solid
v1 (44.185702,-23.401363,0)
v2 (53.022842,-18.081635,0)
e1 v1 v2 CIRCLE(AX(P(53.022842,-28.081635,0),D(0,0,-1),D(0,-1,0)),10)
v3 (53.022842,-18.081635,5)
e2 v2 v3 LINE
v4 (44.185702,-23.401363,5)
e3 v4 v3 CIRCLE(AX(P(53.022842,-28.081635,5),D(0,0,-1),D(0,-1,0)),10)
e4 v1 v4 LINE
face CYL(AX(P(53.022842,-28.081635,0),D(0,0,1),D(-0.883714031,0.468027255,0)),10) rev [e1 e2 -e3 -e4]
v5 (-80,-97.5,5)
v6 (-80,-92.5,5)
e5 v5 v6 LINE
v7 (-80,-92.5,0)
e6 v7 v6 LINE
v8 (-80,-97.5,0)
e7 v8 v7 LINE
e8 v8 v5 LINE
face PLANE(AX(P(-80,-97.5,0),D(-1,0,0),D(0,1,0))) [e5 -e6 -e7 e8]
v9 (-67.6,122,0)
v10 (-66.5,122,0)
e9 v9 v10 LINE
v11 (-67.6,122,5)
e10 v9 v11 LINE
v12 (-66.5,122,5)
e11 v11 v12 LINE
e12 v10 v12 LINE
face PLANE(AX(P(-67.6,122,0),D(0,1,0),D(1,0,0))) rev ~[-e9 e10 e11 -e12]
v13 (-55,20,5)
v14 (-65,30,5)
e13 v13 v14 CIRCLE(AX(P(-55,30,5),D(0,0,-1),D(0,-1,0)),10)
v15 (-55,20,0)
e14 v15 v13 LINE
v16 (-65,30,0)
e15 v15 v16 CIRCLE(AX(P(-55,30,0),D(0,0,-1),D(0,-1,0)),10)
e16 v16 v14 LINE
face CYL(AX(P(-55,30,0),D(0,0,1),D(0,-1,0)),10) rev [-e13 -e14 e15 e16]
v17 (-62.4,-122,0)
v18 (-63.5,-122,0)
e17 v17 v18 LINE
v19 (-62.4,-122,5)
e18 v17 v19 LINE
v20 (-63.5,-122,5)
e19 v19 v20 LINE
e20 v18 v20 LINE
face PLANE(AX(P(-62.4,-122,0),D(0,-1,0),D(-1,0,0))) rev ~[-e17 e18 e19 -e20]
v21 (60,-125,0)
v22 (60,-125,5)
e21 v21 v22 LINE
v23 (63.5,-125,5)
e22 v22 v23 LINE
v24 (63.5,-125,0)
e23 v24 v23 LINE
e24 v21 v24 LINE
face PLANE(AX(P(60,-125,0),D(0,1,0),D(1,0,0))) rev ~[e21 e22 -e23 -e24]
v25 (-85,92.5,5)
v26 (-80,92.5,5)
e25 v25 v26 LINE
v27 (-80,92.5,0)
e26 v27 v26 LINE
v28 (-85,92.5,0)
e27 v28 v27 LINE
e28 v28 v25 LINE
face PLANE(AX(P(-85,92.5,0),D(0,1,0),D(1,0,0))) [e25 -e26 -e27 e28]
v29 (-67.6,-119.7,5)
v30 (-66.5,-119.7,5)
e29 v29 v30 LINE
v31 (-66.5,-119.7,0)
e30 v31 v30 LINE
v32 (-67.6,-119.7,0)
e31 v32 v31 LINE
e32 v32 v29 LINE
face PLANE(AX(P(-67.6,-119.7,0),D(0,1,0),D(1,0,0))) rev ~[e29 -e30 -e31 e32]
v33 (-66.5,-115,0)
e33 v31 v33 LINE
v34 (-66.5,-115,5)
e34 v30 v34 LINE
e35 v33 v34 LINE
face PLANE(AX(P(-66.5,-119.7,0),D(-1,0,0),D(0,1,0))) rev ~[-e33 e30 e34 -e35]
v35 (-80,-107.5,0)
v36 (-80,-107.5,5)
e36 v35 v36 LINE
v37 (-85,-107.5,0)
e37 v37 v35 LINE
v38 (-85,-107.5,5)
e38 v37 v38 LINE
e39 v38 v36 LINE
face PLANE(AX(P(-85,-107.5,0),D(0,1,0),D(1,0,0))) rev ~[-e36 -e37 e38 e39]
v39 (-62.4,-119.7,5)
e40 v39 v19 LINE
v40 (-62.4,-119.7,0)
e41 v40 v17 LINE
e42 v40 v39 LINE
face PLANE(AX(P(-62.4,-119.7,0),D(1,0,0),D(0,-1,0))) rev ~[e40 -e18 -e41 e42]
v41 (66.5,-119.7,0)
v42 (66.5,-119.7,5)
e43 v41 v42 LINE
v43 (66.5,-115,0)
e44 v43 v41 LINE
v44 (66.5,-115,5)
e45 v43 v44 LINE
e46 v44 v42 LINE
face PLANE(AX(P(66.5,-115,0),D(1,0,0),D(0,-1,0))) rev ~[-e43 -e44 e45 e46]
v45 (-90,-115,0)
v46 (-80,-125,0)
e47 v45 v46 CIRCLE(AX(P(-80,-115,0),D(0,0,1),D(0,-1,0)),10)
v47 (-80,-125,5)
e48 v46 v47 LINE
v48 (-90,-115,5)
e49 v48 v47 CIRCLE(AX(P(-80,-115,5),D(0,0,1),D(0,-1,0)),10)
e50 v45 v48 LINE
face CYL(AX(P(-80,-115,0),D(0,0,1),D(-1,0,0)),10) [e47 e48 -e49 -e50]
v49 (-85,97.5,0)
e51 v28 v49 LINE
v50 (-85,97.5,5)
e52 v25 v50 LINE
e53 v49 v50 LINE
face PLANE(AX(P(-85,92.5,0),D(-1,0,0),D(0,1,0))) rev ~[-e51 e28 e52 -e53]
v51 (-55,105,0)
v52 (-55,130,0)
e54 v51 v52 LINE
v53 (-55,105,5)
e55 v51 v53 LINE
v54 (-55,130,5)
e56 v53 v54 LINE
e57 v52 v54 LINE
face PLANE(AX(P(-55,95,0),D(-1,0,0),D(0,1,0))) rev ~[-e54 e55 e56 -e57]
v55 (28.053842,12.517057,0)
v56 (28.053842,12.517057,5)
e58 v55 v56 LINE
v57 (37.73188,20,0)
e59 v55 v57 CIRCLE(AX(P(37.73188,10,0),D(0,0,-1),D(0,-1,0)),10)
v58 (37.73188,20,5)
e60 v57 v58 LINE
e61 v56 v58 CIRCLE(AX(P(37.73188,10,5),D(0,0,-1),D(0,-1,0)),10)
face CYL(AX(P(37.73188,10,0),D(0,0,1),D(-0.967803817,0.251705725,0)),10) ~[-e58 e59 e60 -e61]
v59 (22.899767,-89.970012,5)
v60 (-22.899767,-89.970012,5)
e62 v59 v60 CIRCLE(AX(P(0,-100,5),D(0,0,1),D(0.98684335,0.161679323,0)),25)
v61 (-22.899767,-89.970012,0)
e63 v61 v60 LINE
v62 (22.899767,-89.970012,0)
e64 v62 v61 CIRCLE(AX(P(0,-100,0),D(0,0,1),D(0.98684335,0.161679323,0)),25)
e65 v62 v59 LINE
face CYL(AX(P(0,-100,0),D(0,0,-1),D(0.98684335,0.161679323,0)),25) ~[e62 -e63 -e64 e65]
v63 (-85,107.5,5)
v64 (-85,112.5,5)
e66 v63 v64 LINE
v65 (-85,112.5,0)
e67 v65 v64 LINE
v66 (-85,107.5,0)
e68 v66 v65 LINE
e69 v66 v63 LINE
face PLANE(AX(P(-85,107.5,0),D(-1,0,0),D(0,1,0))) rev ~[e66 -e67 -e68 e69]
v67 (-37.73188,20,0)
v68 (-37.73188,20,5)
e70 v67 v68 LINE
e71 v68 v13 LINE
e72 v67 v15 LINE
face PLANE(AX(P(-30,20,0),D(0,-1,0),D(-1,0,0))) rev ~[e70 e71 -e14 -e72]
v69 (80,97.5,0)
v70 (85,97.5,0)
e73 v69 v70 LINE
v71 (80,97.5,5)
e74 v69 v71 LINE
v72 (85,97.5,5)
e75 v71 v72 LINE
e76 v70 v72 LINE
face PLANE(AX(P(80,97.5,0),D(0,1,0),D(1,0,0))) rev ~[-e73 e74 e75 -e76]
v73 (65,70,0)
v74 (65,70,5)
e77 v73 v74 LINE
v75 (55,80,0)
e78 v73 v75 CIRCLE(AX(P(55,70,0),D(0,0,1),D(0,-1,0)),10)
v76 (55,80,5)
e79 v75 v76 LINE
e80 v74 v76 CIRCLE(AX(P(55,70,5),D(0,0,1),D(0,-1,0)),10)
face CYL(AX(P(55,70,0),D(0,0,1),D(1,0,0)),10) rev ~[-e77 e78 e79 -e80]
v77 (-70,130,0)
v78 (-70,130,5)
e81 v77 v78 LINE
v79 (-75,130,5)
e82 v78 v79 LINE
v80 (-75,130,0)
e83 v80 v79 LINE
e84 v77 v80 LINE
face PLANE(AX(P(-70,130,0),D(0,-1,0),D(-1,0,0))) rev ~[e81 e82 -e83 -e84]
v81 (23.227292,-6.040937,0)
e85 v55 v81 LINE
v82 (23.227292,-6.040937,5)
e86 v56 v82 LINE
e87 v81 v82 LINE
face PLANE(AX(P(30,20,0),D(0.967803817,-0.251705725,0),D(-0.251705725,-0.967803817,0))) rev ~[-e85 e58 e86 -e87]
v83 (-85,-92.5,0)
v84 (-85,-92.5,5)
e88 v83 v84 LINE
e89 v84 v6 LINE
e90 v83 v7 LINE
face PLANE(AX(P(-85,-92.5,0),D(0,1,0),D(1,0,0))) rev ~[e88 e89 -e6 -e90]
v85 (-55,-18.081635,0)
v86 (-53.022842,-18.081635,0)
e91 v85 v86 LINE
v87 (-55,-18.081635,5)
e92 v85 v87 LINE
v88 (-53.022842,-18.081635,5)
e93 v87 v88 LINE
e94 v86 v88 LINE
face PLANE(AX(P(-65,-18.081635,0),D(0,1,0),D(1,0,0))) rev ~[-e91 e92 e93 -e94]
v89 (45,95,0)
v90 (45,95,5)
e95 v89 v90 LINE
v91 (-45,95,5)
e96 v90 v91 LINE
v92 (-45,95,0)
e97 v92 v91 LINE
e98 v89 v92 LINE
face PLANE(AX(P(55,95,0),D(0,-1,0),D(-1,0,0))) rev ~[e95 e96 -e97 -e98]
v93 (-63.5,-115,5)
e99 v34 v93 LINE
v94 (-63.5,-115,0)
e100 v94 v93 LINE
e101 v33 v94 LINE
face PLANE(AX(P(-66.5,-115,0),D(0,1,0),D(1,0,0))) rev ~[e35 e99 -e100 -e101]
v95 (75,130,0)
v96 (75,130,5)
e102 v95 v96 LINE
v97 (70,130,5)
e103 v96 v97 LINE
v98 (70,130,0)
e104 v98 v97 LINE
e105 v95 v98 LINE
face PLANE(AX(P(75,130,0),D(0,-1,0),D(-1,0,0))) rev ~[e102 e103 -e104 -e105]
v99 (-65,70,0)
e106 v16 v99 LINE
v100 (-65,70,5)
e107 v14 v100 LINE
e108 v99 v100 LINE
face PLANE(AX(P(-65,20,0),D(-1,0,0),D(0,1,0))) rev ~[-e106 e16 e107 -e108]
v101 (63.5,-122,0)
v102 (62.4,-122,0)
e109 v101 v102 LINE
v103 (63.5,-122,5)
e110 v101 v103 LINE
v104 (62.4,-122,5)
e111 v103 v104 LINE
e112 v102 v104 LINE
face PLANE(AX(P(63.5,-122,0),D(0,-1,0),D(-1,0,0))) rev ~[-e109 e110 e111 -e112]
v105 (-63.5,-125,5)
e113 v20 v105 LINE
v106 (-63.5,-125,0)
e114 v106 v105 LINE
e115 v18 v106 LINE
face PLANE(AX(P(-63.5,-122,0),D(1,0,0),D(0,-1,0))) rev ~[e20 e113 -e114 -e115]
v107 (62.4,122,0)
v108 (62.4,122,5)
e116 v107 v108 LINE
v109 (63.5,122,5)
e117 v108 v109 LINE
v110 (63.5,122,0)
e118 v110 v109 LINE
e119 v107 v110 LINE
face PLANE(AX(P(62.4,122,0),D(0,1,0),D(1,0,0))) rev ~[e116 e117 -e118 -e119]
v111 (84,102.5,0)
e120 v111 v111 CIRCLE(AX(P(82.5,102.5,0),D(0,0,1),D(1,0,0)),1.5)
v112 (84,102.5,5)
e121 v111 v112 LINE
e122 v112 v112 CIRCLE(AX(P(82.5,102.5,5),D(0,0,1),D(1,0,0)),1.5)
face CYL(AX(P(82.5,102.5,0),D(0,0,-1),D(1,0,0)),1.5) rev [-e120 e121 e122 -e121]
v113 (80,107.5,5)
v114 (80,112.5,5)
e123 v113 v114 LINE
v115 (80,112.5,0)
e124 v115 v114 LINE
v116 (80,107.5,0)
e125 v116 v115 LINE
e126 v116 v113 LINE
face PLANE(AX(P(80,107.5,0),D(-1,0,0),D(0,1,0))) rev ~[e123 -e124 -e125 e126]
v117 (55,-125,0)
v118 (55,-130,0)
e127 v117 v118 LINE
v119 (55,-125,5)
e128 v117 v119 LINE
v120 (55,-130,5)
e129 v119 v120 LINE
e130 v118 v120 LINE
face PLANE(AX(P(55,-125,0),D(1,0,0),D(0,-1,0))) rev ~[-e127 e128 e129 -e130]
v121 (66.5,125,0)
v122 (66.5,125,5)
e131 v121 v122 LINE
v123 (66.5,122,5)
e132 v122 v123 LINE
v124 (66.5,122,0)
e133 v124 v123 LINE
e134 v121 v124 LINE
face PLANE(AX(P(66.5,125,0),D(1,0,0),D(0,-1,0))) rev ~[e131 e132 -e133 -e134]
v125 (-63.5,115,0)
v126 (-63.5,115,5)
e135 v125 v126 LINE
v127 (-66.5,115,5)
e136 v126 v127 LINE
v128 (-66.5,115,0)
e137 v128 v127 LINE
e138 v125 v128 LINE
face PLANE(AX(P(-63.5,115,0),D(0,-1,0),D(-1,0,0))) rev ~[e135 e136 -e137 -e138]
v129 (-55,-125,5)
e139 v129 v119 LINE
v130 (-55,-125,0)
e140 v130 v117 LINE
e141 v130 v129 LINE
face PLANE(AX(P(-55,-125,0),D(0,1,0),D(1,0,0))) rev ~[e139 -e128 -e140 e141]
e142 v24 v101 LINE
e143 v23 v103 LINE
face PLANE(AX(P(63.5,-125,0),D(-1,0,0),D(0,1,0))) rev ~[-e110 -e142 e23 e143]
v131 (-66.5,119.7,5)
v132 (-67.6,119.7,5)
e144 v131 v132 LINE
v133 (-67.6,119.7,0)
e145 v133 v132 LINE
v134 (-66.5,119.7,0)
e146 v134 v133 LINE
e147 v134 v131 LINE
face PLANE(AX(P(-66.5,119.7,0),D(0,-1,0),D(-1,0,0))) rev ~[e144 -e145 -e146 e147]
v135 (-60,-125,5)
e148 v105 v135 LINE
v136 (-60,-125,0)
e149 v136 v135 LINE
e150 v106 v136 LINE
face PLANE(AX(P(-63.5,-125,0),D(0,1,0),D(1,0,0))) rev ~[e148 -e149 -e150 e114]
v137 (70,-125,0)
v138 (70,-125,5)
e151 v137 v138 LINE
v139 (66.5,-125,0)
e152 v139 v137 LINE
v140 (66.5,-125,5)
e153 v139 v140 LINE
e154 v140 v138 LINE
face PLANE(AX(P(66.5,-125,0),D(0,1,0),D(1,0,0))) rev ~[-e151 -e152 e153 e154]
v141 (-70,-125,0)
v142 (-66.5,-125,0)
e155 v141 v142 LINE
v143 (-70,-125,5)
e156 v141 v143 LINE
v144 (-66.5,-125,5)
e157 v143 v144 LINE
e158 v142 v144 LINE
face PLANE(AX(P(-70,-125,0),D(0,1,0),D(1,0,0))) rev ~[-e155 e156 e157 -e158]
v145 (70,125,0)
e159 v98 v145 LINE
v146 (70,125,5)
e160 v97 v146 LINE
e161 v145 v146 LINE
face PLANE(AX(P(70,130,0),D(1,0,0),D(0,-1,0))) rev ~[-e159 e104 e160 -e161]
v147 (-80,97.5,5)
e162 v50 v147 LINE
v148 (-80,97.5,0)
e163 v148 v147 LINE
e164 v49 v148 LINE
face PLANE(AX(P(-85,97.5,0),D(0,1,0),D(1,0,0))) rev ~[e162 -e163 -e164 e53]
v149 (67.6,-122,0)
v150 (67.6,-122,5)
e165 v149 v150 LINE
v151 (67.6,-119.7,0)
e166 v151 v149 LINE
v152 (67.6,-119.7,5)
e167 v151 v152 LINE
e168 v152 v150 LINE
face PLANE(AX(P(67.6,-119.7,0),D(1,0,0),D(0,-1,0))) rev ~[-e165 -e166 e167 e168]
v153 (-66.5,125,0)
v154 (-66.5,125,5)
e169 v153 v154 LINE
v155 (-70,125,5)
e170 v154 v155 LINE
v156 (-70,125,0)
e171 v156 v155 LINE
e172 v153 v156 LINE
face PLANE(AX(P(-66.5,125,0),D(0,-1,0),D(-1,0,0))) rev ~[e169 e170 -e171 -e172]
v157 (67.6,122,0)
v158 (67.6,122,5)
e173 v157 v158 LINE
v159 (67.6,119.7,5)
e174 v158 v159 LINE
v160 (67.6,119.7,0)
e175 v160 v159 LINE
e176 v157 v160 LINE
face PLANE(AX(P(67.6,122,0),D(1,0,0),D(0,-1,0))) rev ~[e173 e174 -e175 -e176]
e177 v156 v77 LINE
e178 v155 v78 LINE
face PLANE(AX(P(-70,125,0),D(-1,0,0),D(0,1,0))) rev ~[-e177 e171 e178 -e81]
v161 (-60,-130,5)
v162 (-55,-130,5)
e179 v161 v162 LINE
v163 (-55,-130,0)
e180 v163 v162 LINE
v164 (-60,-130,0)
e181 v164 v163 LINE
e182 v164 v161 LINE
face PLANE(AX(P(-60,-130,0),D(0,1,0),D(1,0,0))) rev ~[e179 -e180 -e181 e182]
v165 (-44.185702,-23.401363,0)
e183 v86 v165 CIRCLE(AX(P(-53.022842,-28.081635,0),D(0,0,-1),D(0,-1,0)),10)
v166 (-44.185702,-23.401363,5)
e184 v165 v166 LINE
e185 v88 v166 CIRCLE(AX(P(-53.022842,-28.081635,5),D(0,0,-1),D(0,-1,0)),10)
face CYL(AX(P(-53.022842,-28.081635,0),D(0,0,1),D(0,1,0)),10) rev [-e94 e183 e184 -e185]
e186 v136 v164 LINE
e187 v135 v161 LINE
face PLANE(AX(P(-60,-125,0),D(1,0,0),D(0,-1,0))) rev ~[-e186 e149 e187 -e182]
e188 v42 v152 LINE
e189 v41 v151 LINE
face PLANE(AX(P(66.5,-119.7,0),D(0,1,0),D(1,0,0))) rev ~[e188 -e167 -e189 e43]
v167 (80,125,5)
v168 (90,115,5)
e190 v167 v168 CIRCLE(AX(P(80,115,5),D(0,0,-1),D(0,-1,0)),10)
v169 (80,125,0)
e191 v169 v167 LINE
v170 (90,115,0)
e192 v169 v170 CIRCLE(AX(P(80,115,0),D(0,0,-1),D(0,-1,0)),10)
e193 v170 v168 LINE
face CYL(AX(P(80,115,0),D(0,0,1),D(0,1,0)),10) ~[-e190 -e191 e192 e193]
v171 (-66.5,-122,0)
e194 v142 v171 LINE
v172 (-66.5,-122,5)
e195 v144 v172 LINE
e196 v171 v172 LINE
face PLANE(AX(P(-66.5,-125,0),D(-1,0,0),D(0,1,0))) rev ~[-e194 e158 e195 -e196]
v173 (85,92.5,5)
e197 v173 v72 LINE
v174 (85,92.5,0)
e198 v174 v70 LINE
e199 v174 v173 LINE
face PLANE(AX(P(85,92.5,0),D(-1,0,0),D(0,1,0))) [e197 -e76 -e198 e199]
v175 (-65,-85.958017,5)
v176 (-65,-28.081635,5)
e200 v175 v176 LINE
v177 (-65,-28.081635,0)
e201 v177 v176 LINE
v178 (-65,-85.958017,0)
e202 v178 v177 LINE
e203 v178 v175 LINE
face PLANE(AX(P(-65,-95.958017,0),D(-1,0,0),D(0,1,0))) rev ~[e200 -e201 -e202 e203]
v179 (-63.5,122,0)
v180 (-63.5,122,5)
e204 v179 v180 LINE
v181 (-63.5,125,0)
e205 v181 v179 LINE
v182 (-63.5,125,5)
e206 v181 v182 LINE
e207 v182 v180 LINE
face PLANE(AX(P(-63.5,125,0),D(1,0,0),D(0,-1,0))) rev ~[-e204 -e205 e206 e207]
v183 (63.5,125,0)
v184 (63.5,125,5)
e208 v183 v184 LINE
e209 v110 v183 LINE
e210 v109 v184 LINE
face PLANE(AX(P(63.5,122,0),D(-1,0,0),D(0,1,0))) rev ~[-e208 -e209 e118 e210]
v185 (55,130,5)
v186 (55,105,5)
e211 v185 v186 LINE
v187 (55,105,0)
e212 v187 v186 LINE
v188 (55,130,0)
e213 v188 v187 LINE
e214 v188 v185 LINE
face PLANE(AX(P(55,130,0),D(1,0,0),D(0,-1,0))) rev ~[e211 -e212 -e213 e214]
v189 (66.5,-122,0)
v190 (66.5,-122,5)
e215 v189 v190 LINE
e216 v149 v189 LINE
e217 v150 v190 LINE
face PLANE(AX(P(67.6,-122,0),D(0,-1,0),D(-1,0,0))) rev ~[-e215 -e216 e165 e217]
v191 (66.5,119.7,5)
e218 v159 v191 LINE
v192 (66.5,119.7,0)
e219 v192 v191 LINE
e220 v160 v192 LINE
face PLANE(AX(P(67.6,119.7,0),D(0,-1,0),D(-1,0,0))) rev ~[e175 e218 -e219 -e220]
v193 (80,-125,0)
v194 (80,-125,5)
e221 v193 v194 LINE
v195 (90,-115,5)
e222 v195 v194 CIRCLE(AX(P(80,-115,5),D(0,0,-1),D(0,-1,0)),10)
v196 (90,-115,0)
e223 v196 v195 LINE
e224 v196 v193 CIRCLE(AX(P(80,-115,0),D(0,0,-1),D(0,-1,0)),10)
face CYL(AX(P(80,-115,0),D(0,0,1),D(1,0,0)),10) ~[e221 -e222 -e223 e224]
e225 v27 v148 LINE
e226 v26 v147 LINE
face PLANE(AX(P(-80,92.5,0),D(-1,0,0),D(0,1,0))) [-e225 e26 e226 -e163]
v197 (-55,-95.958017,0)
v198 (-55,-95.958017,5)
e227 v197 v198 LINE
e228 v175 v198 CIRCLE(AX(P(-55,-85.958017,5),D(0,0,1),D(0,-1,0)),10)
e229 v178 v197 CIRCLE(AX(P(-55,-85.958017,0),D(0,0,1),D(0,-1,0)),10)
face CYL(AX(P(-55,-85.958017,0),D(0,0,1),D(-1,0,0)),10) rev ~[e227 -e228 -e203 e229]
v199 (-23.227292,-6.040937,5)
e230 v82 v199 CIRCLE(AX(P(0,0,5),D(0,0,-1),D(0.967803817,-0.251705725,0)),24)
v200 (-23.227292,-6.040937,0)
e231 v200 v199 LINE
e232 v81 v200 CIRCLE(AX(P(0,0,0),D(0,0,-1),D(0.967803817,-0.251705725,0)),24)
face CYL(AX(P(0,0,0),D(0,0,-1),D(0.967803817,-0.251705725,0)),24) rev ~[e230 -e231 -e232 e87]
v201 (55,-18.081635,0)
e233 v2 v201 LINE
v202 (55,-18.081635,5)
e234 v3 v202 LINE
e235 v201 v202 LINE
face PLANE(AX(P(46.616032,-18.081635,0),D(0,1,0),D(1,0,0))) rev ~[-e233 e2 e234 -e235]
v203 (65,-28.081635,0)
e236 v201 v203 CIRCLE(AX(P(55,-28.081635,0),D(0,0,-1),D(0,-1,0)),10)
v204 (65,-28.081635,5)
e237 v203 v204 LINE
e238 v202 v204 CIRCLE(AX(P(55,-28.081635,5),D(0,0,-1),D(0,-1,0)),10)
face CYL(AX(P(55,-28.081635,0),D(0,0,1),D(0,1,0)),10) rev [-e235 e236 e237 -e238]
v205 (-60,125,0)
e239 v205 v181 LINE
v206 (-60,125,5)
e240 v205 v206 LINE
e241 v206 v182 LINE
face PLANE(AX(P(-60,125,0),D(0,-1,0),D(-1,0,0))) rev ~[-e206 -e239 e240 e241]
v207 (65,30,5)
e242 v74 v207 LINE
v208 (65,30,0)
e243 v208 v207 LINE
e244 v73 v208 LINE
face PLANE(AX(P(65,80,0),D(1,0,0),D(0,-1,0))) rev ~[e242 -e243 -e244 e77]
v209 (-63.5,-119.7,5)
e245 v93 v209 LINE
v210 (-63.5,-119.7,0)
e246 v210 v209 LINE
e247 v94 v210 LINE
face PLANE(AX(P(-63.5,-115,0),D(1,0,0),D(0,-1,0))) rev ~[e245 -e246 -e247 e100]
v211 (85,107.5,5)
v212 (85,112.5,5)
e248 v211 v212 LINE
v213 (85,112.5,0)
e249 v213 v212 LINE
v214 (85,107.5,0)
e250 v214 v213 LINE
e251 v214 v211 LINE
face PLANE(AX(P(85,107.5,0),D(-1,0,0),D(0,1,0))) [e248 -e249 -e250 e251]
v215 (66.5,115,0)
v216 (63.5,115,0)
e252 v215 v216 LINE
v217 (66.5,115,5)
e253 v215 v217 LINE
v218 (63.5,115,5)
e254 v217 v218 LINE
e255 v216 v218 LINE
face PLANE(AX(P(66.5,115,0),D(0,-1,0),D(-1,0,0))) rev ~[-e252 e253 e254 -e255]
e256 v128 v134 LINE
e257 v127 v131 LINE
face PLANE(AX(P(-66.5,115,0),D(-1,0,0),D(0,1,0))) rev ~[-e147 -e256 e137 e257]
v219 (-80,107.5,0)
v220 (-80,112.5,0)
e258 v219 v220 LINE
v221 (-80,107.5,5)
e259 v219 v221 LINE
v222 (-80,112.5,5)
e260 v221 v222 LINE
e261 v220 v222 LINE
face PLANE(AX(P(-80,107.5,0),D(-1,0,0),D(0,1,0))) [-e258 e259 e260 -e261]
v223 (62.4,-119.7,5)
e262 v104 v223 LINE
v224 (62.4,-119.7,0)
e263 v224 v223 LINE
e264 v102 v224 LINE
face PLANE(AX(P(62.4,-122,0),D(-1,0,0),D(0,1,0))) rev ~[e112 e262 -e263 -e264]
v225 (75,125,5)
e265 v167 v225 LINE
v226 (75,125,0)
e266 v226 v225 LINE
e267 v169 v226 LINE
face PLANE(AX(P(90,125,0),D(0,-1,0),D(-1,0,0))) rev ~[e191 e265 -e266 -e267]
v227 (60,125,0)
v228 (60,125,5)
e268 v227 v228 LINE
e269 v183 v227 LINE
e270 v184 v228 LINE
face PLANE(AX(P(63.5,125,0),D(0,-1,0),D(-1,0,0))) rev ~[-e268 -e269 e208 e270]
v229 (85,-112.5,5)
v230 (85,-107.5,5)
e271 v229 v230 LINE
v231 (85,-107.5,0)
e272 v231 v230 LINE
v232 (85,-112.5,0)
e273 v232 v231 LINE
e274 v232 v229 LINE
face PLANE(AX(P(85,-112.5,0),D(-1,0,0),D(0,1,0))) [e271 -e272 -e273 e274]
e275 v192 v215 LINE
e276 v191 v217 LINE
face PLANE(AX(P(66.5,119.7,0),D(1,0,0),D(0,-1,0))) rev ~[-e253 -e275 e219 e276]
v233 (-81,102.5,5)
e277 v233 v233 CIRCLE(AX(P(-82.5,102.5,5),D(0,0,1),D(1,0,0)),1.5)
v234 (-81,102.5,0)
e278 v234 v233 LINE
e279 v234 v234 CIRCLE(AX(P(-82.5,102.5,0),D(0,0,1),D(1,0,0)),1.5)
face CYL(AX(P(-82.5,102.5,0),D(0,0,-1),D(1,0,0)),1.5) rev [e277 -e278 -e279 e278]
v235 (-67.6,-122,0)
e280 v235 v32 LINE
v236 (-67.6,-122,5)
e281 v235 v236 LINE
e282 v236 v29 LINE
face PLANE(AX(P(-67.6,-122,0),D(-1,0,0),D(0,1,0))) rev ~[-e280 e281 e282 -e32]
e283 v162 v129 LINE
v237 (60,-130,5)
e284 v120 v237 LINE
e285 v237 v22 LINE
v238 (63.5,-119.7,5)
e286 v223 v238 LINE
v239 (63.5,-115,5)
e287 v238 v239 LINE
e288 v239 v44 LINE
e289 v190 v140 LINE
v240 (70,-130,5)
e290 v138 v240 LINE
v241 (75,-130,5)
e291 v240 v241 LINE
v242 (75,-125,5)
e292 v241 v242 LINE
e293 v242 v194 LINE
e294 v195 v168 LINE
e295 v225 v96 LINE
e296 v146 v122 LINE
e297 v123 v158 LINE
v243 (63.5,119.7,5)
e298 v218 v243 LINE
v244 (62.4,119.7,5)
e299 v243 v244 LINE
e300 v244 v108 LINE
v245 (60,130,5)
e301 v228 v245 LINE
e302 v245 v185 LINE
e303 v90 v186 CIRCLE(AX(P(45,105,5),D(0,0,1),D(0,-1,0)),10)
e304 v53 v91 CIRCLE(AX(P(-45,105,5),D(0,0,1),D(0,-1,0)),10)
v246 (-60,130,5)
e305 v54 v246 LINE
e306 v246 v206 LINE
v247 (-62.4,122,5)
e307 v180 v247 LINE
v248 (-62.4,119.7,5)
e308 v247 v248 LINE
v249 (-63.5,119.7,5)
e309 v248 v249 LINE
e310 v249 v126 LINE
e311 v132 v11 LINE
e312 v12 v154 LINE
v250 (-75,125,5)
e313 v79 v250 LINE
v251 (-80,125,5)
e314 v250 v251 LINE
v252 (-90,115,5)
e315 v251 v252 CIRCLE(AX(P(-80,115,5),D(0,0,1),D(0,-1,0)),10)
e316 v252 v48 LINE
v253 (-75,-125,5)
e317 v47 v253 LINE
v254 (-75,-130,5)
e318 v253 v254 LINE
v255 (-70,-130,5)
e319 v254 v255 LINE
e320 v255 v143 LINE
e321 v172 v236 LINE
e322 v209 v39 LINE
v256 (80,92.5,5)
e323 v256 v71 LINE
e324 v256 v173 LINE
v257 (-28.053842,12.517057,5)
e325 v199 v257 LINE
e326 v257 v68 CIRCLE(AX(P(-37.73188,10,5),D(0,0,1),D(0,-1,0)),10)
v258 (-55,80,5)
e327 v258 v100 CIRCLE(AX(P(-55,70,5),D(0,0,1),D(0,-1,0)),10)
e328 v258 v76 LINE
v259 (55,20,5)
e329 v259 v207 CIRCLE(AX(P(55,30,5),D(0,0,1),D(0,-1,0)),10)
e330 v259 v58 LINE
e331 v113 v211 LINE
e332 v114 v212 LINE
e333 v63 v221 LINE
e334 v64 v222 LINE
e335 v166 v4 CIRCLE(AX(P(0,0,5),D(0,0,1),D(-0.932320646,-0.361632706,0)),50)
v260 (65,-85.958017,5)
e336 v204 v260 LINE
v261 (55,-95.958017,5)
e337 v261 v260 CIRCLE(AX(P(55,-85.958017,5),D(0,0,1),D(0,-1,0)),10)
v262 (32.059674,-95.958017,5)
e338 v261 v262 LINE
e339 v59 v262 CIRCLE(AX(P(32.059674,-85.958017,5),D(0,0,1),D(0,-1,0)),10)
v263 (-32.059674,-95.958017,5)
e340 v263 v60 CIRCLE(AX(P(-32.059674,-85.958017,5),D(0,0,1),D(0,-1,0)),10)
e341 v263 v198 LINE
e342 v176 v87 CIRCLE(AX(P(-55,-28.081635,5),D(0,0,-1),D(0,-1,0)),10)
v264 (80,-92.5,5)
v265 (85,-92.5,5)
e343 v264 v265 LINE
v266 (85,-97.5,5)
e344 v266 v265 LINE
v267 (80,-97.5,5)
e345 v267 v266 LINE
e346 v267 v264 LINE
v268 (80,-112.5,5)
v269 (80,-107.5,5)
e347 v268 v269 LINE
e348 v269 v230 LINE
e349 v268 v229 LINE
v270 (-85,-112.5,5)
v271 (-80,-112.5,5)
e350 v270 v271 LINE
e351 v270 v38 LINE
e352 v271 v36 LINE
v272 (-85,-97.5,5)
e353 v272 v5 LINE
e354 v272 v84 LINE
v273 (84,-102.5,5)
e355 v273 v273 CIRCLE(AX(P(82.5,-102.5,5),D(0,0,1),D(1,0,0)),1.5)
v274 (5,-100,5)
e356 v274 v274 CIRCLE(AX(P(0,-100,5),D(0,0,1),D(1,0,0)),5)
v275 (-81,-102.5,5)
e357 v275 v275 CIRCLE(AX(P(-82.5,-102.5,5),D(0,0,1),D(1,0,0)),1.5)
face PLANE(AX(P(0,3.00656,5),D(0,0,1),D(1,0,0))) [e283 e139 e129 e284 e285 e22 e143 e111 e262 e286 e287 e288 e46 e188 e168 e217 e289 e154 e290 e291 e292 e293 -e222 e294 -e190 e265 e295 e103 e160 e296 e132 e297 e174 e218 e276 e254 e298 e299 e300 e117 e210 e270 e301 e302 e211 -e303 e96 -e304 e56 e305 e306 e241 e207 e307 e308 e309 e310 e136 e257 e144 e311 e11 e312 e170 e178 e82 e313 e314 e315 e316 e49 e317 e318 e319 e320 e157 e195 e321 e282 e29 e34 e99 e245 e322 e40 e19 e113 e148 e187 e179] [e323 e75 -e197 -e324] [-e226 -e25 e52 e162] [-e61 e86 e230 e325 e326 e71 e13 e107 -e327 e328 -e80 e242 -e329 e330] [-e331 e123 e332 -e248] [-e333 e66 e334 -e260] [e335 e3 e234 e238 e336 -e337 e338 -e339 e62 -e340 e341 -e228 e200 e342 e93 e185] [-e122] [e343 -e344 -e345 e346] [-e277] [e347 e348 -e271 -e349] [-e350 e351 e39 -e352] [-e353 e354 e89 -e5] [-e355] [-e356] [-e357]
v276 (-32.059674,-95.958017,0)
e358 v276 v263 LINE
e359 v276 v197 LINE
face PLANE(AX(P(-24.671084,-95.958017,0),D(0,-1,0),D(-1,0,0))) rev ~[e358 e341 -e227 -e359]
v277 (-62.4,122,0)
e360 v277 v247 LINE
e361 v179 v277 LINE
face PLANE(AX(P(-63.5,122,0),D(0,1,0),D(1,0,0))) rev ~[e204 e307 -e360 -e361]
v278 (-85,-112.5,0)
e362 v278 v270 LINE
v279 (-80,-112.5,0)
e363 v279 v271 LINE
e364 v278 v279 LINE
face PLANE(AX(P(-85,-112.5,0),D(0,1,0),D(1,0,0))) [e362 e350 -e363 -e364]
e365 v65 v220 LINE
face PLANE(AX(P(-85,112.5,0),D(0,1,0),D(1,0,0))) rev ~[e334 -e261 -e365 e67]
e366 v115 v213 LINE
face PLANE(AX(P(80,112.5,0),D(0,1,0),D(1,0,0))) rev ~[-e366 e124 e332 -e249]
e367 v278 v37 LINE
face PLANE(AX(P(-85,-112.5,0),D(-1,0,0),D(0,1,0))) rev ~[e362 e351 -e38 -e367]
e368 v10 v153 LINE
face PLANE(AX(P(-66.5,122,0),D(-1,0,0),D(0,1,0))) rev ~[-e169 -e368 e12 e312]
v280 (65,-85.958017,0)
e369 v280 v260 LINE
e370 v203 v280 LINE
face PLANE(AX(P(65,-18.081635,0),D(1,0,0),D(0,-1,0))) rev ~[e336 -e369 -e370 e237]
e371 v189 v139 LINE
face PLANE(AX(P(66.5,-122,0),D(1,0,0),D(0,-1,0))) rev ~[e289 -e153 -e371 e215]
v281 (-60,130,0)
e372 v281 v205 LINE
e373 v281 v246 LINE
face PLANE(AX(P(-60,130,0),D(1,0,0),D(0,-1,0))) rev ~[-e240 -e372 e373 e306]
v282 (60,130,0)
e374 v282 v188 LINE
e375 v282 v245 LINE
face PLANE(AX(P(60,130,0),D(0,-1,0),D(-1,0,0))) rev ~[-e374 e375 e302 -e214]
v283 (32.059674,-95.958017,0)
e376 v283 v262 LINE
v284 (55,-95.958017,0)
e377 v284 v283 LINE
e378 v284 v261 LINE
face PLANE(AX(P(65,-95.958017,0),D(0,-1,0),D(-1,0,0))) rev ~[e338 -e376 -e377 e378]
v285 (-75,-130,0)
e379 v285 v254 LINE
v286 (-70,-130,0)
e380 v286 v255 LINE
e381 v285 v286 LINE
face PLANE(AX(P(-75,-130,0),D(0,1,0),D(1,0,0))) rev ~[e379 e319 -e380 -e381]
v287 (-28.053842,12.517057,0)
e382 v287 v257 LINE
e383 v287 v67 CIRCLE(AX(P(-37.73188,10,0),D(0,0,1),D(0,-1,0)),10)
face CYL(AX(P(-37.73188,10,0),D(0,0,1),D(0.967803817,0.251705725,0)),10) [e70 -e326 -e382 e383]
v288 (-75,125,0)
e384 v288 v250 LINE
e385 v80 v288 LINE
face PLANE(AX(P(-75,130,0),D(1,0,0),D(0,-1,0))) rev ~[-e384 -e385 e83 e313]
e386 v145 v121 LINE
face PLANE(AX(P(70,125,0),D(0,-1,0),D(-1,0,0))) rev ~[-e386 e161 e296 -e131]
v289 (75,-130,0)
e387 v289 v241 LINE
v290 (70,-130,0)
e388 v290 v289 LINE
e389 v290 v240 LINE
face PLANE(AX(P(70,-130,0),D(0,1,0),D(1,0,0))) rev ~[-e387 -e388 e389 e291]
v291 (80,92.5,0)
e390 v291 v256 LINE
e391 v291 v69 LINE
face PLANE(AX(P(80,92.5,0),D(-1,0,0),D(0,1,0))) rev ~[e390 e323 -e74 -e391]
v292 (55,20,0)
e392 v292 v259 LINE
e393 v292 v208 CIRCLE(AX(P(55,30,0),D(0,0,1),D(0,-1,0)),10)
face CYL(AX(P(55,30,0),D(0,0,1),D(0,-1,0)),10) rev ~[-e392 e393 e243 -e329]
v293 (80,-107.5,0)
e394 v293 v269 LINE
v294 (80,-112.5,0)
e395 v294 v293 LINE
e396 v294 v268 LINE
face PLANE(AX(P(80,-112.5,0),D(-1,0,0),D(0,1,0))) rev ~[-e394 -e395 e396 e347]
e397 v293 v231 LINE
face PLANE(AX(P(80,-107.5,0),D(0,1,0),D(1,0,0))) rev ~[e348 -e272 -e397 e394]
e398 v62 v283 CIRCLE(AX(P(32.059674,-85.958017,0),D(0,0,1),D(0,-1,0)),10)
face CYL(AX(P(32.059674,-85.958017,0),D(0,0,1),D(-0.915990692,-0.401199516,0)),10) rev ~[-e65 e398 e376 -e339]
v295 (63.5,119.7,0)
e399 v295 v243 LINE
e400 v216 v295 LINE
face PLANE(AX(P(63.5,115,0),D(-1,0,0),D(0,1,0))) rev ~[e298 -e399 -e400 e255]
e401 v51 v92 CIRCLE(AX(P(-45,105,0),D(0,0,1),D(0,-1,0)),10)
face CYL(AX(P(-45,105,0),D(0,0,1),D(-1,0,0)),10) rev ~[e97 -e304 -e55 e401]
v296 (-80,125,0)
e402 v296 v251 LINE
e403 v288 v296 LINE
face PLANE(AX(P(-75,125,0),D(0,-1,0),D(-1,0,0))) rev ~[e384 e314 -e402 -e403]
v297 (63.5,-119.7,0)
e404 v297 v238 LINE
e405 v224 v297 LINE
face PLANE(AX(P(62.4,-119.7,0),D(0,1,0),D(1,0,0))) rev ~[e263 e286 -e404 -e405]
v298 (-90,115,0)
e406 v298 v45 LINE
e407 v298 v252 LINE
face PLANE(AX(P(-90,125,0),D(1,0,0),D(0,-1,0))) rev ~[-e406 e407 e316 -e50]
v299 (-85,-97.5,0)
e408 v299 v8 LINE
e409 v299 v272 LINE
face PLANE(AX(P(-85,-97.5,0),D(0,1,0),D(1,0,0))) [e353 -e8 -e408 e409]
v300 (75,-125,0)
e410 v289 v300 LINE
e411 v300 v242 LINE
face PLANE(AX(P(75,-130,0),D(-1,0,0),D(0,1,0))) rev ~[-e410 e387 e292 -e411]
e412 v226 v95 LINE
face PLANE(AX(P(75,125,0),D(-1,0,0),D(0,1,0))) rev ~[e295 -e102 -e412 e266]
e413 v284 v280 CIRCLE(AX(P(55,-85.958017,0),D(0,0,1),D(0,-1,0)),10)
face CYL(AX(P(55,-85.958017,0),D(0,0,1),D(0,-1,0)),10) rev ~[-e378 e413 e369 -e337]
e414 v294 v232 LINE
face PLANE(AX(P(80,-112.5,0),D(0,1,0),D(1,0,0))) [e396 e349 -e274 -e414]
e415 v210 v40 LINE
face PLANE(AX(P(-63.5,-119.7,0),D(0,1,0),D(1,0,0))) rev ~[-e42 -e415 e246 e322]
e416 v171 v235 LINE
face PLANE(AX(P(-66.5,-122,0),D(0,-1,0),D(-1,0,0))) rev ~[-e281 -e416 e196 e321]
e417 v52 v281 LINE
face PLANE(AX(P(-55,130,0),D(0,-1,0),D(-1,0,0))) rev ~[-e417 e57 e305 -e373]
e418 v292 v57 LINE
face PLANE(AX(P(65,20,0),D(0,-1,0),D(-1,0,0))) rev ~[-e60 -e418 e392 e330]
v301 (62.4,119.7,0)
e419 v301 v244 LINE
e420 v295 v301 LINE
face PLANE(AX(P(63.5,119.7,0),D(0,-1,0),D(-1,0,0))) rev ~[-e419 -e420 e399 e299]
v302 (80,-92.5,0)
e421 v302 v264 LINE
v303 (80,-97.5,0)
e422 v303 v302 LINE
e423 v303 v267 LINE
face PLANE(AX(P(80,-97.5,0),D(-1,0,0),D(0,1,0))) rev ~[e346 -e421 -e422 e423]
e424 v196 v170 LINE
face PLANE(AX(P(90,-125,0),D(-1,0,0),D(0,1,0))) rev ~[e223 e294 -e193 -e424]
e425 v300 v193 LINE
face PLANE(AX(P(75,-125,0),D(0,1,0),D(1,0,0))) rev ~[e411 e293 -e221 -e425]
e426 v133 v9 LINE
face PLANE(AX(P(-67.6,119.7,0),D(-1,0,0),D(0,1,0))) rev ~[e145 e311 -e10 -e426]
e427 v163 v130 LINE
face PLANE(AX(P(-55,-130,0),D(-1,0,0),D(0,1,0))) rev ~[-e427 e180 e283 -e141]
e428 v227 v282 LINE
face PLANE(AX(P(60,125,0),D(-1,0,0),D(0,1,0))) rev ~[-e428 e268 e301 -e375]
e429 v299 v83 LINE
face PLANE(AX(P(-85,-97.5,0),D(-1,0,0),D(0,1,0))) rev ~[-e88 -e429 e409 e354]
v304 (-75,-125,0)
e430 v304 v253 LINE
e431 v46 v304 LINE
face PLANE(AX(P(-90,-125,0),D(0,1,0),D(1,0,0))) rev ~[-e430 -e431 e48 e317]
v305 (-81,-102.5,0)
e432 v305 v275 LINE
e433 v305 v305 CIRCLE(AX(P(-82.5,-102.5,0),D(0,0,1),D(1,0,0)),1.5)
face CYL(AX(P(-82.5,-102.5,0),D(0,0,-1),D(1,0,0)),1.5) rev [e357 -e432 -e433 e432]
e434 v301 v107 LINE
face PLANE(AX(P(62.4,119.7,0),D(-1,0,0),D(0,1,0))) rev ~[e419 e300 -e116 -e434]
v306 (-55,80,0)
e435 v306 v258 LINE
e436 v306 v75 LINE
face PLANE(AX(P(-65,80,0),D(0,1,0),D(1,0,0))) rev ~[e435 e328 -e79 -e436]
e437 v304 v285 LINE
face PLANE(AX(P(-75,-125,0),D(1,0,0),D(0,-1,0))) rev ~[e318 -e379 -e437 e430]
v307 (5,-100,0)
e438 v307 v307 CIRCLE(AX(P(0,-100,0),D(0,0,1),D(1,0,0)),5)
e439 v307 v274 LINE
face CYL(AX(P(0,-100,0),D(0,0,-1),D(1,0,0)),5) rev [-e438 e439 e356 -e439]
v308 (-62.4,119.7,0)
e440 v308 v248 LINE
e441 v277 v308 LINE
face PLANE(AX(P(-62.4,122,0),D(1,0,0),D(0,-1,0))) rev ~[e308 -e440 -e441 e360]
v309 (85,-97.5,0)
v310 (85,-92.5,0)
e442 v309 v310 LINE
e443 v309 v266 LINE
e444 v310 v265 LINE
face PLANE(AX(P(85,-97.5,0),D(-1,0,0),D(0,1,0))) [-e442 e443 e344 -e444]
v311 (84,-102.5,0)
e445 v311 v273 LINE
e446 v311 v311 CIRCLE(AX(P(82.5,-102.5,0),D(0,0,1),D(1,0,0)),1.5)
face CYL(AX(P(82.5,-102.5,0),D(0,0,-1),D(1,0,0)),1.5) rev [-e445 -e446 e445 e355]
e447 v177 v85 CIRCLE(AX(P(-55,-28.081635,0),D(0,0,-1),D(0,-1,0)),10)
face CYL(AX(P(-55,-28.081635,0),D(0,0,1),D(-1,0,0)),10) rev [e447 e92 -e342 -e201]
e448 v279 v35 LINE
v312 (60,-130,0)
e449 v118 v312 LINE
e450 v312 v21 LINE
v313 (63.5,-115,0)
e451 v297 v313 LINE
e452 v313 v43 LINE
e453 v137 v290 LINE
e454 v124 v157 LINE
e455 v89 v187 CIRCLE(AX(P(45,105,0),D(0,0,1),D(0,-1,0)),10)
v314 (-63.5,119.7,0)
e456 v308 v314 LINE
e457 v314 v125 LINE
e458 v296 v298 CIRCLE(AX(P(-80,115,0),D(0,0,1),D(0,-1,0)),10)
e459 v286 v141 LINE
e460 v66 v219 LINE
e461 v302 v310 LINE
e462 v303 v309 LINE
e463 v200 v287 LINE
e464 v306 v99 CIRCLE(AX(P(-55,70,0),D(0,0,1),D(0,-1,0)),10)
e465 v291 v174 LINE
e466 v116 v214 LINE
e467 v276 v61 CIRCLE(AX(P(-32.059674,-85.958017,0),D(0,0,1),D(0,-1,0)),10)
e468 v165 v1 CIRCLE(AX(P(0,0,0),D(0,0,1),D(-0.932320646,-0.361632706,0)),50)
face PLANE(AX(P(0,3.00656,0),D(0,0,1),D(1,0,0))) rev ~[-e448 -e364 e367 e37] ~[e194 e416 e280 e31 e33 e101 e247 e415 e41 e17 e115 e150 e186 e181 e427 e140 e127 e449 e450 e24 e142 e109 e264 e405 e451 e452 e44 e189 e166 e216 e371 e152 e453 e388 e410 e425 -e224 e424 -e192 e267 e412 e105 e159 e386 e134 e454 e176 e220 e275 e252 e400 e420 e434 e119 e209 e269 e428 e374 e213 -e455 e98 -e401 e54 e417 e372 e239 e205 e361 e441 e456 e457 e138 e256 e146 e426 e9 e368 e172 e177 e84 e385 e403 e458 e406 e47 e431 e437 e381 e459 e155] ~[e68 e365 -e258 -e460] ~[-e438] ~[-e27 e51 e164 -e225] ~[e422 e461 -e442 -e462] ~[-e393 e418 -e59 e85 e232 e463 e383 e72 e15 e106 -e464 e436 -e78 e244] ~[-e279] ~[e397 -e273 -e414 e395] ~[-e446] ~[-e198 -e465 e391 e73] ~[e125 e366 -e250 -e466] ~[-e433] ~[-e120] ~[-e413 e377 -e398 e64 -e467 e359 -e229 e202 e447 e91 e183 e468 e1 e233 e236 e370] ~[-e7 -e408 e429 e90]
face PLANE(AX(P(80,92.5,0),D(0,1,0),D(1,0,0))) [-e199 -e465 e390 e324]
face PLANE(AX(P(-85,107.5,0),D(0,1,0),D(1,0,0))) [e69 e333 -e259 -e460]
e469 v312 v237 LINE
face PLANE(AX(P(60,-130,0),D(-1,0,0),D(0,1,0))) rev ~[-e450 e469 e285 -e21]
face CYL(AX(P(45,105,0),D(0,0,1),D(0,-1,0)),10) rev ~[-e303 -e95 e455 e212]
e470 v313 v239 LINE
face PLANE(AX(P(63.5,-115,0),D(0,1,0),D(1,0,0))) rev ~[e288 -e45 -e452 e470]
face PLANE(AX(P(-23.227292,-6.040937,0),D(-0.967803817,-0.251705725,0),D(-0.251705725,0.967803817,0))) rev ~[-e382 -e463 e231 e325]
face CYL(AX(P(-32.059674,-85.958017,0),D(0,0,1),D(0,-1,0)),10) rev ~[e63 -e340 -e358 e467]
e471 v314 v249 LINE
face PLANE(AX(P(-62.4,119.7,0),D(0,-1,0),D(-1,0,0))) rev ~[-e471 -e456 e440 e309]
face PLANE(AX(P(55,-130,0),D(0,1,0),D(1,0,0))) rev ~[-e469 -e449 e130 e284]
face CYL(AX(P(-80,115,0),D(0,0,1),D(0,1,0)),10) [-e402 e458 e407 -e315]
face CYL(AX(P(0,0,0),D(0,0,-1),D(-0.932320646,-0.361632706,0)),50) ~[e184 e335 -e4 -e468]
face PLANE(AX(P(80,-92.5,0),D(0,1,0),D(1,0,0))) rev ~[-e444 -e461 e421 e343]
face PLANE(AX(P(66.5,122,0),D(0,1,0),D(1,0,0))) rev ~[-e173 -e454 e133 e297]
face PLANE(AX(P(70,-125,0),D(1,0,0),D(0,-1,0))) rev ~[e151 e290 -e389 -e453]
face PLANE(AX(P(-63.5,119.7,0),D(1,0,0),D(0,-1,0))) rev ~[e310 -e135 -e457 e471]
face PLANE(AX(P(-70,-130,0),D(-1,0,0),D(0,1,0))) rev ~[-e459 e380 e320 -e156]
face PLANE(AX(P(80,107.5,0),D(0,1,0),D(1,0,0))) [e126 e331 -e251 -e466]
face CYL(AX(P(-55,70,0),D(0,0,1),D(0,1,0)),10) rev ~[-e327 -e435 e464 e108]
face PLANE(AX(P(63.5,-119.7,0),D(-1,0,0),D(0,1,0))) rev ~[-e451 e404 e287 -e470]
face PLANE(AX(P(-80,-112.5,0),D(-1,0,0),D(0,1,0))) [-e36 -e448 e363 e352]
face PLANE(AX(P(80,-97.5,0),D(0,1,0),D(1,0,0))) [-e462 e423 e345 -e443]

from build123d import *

# Parameters (mm, degrees)
SKETCH1_W           = 5
SKETCH1_H           = 5
SKETCH1_R           = 1.5
SKETCH1_R_2         = 5
BOSS_EXTRUDE1_DEPTH = 5
FILLET1_R           = 10


with BuildPart() as part:
    # Sketch1 → Boss-Extrude1 (new body)
    with BuildSketch(Plane.XY):
        Polygon((-75, 125), (-90, 125), (-90, -125), (-75, -125), (-75, -130), (-70, -130), (-70, -125), (-66.5, -125), (-66.5, -122), (-67.6, -122), (-67.6, -119.7), (-66.5, -119.7), (-66.5, -115), (-63.5, -115), (-63.5, -119.7), (-62.4, -119.7), (-62.4, -122), (-63.5, -122), (-63.5, -125), (-60, -125), (-60, -130), (-55, -130), (-55, -125), (55, -125), (55, -130), (60, -130), (60, -125), (63.5, -125), (63.5, -122), (62.4, -122), (62.4, -119.7), (63.5, -119.7), (63.5, -115), (66.5, -115), (66.5, -119.7), (67.6, -119.7), (67.6, -122), (66.5, -122), (66.5, -125), (70, -125), (70, -130), (75, -130), (75, -125), (90, -125), (90, 125), (75, 125), (75, 130), (70, 130), (70, 125), (66.5, 125), (66.5, 122), (67.6, 122), (67.6, 119.7), (66.5, 119.7), (66.5, 115), (63.5, 115), (63.5, 119.7), (62.4, 119.7), (62.4, 122), (63.5, 122), (63.5, 125), (60, 125), (60, 130), (55, 130), (55, 95), (-55, 95), (-55, 130), (-60, 130), (-60, 125), (-63.5, 125), (-63.5, 122), (-62.4, 122), (-62.4, 119.7), (-63.5, 119.7), (-63.5, 115), (-66.5, 115), (-66.5, 119.7), (-67.6, 119.7), (-67.6, 122), (-66.5, 122), (-66.5, 125), (-70, 125), (-70, 130), (-75, 130), align=None)
        with Locations((-82.5, -110)):
            Rectangle(SKETCH1_W, SKETCH1_H, mode=Mode.SUBTRACT)
        with Locations((-82.5, -102.5)):
            Circle(SKETCH1_R, mode=Mode.SUBTRACT)
        with Locations((-82.5, -95)):
            Rectangle(SKETCH1_W, SKETCH1_H, mode=Mode.SUBTRACT)
        with Locations((0, -100)):
            Circle(SKETCH1_R_2, mode=Mode.SUBTRACT)
        with Locations((82.5, -110)):
            Rectangle(SKETCH1_W, SKETCH1_H, mode=Mode.SUBTRACT)
        with Locations((82.5, -102.5)):
            Circle(SKETCH1_R, mode=Mode.SUBTRACT)
        with Locations((82.5, -95)):
            Rectangle(SKETCH1_W, SKETCH1_H, mode=Mode.SUBTRACT)
        with BuildLine():
            Line((-65, -18.081635275), (-46.616032283, -18.081635275))
            ThreePointArc((-46.616032283, -18.081635275), (0, -50), (46.616032283, -18.081635275))
            Line((46.616032283, -18.081635275), (65, -18.081635275))
            Line((65, -18.081635275), (65, -95.958016924))
            Line((65, -95.958016924), (24.671083738, -95.958016924))
            ThreePointArc((24.671083738, -95.958016924), (0, -75), (-24.671083738, -95.958016924))
            Line((-24.671083738, -95.958016924), (-65, -95.958016924))
            Line((-65, -95.958016924), (-65, -18.081635275))
        make_face(mode=Mode.SUBTRACT)
        with Locations((-82.5, 95)):
            Rectangle(SKETCH1_W, SKETCH1_H, mode=Mode.SUBTRACT)
        with Locations((-82.5, 102.5)):
            Circle(SKETCH1_R, mode=Mode.SUBTRACT)
        with Locations((-82.5, 110)):
            Rectangle(SKETCH1_W, SKETCH1_H, mode=Mode.SUBTRACT)
        with BuildLine():
            ThreePointArc((23.227291604, -6.040937406), (0, -24), (-23.227291604, -6.040937406))
            Line((-23.227291604, -6.040937406), (-30, 20))
            Line((-30, 20), (-65, 20))
            Line((-65, 20), (-65, 80))
            Line((-65, 80), (65, 80))
            Line((65, 80), (65, 20))
            Line((65, 20), (30, 20))
            Line((30, 20), (23.227291604, -6.040937406))
        make_face(mode=Mode.SUBTRACT)
        with Locations((82.5, 95)):
            Rectangle(SKETCH1_W, SKETCH1_H, mode=Mode.SUBTRACT)
        with Locations((82.5, 102.5)):
            Circle(SKETCH1_R, mode=Mode.SUBTRACT)
        with Locations((82.5, 110)):
            Rectangle(SKETCH1_W, SKETCH1_H, mode=Mode.SUBTRACT)
    extrude(amount=BOSS_EXTRUDE1_DEPTH)

    # Fillet1
    fillet1_edges = [part.edges().sort_by_distance(p)[0] for p in [
        (-65, -18.081635275, 2.5),
        (-65, -95.958016924, 2.5),
        (-24.671083738, -95.958016924, 2.5),
        (24.671083738, -95.958016924, 2.5),
        (65, -95.958016924, 2.5),
        (65, -18.081635275, 2.5),
        (46.616032283, -18.081635275, 2.5),
        (-46.616032283, -18.081635275, 2.5),
        (30, 20, 2.5),
        (65, 20, 2.5),
        (65, 80, 2.5),
        (-65, 80, 2.5),
        (-65, 20, 2.5),
        (-30, 20, 2.5),
        (-55, 95, 2.5),
        (55, 95, 2.5),
        (90, 125, 2.5),
        (90, -125, 2.5),
        (-90, -125, 2.5),
        (-90, 125, 2.5),
    ]]
    fillet(fillet1_edges, radius=FILLET1_R)


solid = part.part
